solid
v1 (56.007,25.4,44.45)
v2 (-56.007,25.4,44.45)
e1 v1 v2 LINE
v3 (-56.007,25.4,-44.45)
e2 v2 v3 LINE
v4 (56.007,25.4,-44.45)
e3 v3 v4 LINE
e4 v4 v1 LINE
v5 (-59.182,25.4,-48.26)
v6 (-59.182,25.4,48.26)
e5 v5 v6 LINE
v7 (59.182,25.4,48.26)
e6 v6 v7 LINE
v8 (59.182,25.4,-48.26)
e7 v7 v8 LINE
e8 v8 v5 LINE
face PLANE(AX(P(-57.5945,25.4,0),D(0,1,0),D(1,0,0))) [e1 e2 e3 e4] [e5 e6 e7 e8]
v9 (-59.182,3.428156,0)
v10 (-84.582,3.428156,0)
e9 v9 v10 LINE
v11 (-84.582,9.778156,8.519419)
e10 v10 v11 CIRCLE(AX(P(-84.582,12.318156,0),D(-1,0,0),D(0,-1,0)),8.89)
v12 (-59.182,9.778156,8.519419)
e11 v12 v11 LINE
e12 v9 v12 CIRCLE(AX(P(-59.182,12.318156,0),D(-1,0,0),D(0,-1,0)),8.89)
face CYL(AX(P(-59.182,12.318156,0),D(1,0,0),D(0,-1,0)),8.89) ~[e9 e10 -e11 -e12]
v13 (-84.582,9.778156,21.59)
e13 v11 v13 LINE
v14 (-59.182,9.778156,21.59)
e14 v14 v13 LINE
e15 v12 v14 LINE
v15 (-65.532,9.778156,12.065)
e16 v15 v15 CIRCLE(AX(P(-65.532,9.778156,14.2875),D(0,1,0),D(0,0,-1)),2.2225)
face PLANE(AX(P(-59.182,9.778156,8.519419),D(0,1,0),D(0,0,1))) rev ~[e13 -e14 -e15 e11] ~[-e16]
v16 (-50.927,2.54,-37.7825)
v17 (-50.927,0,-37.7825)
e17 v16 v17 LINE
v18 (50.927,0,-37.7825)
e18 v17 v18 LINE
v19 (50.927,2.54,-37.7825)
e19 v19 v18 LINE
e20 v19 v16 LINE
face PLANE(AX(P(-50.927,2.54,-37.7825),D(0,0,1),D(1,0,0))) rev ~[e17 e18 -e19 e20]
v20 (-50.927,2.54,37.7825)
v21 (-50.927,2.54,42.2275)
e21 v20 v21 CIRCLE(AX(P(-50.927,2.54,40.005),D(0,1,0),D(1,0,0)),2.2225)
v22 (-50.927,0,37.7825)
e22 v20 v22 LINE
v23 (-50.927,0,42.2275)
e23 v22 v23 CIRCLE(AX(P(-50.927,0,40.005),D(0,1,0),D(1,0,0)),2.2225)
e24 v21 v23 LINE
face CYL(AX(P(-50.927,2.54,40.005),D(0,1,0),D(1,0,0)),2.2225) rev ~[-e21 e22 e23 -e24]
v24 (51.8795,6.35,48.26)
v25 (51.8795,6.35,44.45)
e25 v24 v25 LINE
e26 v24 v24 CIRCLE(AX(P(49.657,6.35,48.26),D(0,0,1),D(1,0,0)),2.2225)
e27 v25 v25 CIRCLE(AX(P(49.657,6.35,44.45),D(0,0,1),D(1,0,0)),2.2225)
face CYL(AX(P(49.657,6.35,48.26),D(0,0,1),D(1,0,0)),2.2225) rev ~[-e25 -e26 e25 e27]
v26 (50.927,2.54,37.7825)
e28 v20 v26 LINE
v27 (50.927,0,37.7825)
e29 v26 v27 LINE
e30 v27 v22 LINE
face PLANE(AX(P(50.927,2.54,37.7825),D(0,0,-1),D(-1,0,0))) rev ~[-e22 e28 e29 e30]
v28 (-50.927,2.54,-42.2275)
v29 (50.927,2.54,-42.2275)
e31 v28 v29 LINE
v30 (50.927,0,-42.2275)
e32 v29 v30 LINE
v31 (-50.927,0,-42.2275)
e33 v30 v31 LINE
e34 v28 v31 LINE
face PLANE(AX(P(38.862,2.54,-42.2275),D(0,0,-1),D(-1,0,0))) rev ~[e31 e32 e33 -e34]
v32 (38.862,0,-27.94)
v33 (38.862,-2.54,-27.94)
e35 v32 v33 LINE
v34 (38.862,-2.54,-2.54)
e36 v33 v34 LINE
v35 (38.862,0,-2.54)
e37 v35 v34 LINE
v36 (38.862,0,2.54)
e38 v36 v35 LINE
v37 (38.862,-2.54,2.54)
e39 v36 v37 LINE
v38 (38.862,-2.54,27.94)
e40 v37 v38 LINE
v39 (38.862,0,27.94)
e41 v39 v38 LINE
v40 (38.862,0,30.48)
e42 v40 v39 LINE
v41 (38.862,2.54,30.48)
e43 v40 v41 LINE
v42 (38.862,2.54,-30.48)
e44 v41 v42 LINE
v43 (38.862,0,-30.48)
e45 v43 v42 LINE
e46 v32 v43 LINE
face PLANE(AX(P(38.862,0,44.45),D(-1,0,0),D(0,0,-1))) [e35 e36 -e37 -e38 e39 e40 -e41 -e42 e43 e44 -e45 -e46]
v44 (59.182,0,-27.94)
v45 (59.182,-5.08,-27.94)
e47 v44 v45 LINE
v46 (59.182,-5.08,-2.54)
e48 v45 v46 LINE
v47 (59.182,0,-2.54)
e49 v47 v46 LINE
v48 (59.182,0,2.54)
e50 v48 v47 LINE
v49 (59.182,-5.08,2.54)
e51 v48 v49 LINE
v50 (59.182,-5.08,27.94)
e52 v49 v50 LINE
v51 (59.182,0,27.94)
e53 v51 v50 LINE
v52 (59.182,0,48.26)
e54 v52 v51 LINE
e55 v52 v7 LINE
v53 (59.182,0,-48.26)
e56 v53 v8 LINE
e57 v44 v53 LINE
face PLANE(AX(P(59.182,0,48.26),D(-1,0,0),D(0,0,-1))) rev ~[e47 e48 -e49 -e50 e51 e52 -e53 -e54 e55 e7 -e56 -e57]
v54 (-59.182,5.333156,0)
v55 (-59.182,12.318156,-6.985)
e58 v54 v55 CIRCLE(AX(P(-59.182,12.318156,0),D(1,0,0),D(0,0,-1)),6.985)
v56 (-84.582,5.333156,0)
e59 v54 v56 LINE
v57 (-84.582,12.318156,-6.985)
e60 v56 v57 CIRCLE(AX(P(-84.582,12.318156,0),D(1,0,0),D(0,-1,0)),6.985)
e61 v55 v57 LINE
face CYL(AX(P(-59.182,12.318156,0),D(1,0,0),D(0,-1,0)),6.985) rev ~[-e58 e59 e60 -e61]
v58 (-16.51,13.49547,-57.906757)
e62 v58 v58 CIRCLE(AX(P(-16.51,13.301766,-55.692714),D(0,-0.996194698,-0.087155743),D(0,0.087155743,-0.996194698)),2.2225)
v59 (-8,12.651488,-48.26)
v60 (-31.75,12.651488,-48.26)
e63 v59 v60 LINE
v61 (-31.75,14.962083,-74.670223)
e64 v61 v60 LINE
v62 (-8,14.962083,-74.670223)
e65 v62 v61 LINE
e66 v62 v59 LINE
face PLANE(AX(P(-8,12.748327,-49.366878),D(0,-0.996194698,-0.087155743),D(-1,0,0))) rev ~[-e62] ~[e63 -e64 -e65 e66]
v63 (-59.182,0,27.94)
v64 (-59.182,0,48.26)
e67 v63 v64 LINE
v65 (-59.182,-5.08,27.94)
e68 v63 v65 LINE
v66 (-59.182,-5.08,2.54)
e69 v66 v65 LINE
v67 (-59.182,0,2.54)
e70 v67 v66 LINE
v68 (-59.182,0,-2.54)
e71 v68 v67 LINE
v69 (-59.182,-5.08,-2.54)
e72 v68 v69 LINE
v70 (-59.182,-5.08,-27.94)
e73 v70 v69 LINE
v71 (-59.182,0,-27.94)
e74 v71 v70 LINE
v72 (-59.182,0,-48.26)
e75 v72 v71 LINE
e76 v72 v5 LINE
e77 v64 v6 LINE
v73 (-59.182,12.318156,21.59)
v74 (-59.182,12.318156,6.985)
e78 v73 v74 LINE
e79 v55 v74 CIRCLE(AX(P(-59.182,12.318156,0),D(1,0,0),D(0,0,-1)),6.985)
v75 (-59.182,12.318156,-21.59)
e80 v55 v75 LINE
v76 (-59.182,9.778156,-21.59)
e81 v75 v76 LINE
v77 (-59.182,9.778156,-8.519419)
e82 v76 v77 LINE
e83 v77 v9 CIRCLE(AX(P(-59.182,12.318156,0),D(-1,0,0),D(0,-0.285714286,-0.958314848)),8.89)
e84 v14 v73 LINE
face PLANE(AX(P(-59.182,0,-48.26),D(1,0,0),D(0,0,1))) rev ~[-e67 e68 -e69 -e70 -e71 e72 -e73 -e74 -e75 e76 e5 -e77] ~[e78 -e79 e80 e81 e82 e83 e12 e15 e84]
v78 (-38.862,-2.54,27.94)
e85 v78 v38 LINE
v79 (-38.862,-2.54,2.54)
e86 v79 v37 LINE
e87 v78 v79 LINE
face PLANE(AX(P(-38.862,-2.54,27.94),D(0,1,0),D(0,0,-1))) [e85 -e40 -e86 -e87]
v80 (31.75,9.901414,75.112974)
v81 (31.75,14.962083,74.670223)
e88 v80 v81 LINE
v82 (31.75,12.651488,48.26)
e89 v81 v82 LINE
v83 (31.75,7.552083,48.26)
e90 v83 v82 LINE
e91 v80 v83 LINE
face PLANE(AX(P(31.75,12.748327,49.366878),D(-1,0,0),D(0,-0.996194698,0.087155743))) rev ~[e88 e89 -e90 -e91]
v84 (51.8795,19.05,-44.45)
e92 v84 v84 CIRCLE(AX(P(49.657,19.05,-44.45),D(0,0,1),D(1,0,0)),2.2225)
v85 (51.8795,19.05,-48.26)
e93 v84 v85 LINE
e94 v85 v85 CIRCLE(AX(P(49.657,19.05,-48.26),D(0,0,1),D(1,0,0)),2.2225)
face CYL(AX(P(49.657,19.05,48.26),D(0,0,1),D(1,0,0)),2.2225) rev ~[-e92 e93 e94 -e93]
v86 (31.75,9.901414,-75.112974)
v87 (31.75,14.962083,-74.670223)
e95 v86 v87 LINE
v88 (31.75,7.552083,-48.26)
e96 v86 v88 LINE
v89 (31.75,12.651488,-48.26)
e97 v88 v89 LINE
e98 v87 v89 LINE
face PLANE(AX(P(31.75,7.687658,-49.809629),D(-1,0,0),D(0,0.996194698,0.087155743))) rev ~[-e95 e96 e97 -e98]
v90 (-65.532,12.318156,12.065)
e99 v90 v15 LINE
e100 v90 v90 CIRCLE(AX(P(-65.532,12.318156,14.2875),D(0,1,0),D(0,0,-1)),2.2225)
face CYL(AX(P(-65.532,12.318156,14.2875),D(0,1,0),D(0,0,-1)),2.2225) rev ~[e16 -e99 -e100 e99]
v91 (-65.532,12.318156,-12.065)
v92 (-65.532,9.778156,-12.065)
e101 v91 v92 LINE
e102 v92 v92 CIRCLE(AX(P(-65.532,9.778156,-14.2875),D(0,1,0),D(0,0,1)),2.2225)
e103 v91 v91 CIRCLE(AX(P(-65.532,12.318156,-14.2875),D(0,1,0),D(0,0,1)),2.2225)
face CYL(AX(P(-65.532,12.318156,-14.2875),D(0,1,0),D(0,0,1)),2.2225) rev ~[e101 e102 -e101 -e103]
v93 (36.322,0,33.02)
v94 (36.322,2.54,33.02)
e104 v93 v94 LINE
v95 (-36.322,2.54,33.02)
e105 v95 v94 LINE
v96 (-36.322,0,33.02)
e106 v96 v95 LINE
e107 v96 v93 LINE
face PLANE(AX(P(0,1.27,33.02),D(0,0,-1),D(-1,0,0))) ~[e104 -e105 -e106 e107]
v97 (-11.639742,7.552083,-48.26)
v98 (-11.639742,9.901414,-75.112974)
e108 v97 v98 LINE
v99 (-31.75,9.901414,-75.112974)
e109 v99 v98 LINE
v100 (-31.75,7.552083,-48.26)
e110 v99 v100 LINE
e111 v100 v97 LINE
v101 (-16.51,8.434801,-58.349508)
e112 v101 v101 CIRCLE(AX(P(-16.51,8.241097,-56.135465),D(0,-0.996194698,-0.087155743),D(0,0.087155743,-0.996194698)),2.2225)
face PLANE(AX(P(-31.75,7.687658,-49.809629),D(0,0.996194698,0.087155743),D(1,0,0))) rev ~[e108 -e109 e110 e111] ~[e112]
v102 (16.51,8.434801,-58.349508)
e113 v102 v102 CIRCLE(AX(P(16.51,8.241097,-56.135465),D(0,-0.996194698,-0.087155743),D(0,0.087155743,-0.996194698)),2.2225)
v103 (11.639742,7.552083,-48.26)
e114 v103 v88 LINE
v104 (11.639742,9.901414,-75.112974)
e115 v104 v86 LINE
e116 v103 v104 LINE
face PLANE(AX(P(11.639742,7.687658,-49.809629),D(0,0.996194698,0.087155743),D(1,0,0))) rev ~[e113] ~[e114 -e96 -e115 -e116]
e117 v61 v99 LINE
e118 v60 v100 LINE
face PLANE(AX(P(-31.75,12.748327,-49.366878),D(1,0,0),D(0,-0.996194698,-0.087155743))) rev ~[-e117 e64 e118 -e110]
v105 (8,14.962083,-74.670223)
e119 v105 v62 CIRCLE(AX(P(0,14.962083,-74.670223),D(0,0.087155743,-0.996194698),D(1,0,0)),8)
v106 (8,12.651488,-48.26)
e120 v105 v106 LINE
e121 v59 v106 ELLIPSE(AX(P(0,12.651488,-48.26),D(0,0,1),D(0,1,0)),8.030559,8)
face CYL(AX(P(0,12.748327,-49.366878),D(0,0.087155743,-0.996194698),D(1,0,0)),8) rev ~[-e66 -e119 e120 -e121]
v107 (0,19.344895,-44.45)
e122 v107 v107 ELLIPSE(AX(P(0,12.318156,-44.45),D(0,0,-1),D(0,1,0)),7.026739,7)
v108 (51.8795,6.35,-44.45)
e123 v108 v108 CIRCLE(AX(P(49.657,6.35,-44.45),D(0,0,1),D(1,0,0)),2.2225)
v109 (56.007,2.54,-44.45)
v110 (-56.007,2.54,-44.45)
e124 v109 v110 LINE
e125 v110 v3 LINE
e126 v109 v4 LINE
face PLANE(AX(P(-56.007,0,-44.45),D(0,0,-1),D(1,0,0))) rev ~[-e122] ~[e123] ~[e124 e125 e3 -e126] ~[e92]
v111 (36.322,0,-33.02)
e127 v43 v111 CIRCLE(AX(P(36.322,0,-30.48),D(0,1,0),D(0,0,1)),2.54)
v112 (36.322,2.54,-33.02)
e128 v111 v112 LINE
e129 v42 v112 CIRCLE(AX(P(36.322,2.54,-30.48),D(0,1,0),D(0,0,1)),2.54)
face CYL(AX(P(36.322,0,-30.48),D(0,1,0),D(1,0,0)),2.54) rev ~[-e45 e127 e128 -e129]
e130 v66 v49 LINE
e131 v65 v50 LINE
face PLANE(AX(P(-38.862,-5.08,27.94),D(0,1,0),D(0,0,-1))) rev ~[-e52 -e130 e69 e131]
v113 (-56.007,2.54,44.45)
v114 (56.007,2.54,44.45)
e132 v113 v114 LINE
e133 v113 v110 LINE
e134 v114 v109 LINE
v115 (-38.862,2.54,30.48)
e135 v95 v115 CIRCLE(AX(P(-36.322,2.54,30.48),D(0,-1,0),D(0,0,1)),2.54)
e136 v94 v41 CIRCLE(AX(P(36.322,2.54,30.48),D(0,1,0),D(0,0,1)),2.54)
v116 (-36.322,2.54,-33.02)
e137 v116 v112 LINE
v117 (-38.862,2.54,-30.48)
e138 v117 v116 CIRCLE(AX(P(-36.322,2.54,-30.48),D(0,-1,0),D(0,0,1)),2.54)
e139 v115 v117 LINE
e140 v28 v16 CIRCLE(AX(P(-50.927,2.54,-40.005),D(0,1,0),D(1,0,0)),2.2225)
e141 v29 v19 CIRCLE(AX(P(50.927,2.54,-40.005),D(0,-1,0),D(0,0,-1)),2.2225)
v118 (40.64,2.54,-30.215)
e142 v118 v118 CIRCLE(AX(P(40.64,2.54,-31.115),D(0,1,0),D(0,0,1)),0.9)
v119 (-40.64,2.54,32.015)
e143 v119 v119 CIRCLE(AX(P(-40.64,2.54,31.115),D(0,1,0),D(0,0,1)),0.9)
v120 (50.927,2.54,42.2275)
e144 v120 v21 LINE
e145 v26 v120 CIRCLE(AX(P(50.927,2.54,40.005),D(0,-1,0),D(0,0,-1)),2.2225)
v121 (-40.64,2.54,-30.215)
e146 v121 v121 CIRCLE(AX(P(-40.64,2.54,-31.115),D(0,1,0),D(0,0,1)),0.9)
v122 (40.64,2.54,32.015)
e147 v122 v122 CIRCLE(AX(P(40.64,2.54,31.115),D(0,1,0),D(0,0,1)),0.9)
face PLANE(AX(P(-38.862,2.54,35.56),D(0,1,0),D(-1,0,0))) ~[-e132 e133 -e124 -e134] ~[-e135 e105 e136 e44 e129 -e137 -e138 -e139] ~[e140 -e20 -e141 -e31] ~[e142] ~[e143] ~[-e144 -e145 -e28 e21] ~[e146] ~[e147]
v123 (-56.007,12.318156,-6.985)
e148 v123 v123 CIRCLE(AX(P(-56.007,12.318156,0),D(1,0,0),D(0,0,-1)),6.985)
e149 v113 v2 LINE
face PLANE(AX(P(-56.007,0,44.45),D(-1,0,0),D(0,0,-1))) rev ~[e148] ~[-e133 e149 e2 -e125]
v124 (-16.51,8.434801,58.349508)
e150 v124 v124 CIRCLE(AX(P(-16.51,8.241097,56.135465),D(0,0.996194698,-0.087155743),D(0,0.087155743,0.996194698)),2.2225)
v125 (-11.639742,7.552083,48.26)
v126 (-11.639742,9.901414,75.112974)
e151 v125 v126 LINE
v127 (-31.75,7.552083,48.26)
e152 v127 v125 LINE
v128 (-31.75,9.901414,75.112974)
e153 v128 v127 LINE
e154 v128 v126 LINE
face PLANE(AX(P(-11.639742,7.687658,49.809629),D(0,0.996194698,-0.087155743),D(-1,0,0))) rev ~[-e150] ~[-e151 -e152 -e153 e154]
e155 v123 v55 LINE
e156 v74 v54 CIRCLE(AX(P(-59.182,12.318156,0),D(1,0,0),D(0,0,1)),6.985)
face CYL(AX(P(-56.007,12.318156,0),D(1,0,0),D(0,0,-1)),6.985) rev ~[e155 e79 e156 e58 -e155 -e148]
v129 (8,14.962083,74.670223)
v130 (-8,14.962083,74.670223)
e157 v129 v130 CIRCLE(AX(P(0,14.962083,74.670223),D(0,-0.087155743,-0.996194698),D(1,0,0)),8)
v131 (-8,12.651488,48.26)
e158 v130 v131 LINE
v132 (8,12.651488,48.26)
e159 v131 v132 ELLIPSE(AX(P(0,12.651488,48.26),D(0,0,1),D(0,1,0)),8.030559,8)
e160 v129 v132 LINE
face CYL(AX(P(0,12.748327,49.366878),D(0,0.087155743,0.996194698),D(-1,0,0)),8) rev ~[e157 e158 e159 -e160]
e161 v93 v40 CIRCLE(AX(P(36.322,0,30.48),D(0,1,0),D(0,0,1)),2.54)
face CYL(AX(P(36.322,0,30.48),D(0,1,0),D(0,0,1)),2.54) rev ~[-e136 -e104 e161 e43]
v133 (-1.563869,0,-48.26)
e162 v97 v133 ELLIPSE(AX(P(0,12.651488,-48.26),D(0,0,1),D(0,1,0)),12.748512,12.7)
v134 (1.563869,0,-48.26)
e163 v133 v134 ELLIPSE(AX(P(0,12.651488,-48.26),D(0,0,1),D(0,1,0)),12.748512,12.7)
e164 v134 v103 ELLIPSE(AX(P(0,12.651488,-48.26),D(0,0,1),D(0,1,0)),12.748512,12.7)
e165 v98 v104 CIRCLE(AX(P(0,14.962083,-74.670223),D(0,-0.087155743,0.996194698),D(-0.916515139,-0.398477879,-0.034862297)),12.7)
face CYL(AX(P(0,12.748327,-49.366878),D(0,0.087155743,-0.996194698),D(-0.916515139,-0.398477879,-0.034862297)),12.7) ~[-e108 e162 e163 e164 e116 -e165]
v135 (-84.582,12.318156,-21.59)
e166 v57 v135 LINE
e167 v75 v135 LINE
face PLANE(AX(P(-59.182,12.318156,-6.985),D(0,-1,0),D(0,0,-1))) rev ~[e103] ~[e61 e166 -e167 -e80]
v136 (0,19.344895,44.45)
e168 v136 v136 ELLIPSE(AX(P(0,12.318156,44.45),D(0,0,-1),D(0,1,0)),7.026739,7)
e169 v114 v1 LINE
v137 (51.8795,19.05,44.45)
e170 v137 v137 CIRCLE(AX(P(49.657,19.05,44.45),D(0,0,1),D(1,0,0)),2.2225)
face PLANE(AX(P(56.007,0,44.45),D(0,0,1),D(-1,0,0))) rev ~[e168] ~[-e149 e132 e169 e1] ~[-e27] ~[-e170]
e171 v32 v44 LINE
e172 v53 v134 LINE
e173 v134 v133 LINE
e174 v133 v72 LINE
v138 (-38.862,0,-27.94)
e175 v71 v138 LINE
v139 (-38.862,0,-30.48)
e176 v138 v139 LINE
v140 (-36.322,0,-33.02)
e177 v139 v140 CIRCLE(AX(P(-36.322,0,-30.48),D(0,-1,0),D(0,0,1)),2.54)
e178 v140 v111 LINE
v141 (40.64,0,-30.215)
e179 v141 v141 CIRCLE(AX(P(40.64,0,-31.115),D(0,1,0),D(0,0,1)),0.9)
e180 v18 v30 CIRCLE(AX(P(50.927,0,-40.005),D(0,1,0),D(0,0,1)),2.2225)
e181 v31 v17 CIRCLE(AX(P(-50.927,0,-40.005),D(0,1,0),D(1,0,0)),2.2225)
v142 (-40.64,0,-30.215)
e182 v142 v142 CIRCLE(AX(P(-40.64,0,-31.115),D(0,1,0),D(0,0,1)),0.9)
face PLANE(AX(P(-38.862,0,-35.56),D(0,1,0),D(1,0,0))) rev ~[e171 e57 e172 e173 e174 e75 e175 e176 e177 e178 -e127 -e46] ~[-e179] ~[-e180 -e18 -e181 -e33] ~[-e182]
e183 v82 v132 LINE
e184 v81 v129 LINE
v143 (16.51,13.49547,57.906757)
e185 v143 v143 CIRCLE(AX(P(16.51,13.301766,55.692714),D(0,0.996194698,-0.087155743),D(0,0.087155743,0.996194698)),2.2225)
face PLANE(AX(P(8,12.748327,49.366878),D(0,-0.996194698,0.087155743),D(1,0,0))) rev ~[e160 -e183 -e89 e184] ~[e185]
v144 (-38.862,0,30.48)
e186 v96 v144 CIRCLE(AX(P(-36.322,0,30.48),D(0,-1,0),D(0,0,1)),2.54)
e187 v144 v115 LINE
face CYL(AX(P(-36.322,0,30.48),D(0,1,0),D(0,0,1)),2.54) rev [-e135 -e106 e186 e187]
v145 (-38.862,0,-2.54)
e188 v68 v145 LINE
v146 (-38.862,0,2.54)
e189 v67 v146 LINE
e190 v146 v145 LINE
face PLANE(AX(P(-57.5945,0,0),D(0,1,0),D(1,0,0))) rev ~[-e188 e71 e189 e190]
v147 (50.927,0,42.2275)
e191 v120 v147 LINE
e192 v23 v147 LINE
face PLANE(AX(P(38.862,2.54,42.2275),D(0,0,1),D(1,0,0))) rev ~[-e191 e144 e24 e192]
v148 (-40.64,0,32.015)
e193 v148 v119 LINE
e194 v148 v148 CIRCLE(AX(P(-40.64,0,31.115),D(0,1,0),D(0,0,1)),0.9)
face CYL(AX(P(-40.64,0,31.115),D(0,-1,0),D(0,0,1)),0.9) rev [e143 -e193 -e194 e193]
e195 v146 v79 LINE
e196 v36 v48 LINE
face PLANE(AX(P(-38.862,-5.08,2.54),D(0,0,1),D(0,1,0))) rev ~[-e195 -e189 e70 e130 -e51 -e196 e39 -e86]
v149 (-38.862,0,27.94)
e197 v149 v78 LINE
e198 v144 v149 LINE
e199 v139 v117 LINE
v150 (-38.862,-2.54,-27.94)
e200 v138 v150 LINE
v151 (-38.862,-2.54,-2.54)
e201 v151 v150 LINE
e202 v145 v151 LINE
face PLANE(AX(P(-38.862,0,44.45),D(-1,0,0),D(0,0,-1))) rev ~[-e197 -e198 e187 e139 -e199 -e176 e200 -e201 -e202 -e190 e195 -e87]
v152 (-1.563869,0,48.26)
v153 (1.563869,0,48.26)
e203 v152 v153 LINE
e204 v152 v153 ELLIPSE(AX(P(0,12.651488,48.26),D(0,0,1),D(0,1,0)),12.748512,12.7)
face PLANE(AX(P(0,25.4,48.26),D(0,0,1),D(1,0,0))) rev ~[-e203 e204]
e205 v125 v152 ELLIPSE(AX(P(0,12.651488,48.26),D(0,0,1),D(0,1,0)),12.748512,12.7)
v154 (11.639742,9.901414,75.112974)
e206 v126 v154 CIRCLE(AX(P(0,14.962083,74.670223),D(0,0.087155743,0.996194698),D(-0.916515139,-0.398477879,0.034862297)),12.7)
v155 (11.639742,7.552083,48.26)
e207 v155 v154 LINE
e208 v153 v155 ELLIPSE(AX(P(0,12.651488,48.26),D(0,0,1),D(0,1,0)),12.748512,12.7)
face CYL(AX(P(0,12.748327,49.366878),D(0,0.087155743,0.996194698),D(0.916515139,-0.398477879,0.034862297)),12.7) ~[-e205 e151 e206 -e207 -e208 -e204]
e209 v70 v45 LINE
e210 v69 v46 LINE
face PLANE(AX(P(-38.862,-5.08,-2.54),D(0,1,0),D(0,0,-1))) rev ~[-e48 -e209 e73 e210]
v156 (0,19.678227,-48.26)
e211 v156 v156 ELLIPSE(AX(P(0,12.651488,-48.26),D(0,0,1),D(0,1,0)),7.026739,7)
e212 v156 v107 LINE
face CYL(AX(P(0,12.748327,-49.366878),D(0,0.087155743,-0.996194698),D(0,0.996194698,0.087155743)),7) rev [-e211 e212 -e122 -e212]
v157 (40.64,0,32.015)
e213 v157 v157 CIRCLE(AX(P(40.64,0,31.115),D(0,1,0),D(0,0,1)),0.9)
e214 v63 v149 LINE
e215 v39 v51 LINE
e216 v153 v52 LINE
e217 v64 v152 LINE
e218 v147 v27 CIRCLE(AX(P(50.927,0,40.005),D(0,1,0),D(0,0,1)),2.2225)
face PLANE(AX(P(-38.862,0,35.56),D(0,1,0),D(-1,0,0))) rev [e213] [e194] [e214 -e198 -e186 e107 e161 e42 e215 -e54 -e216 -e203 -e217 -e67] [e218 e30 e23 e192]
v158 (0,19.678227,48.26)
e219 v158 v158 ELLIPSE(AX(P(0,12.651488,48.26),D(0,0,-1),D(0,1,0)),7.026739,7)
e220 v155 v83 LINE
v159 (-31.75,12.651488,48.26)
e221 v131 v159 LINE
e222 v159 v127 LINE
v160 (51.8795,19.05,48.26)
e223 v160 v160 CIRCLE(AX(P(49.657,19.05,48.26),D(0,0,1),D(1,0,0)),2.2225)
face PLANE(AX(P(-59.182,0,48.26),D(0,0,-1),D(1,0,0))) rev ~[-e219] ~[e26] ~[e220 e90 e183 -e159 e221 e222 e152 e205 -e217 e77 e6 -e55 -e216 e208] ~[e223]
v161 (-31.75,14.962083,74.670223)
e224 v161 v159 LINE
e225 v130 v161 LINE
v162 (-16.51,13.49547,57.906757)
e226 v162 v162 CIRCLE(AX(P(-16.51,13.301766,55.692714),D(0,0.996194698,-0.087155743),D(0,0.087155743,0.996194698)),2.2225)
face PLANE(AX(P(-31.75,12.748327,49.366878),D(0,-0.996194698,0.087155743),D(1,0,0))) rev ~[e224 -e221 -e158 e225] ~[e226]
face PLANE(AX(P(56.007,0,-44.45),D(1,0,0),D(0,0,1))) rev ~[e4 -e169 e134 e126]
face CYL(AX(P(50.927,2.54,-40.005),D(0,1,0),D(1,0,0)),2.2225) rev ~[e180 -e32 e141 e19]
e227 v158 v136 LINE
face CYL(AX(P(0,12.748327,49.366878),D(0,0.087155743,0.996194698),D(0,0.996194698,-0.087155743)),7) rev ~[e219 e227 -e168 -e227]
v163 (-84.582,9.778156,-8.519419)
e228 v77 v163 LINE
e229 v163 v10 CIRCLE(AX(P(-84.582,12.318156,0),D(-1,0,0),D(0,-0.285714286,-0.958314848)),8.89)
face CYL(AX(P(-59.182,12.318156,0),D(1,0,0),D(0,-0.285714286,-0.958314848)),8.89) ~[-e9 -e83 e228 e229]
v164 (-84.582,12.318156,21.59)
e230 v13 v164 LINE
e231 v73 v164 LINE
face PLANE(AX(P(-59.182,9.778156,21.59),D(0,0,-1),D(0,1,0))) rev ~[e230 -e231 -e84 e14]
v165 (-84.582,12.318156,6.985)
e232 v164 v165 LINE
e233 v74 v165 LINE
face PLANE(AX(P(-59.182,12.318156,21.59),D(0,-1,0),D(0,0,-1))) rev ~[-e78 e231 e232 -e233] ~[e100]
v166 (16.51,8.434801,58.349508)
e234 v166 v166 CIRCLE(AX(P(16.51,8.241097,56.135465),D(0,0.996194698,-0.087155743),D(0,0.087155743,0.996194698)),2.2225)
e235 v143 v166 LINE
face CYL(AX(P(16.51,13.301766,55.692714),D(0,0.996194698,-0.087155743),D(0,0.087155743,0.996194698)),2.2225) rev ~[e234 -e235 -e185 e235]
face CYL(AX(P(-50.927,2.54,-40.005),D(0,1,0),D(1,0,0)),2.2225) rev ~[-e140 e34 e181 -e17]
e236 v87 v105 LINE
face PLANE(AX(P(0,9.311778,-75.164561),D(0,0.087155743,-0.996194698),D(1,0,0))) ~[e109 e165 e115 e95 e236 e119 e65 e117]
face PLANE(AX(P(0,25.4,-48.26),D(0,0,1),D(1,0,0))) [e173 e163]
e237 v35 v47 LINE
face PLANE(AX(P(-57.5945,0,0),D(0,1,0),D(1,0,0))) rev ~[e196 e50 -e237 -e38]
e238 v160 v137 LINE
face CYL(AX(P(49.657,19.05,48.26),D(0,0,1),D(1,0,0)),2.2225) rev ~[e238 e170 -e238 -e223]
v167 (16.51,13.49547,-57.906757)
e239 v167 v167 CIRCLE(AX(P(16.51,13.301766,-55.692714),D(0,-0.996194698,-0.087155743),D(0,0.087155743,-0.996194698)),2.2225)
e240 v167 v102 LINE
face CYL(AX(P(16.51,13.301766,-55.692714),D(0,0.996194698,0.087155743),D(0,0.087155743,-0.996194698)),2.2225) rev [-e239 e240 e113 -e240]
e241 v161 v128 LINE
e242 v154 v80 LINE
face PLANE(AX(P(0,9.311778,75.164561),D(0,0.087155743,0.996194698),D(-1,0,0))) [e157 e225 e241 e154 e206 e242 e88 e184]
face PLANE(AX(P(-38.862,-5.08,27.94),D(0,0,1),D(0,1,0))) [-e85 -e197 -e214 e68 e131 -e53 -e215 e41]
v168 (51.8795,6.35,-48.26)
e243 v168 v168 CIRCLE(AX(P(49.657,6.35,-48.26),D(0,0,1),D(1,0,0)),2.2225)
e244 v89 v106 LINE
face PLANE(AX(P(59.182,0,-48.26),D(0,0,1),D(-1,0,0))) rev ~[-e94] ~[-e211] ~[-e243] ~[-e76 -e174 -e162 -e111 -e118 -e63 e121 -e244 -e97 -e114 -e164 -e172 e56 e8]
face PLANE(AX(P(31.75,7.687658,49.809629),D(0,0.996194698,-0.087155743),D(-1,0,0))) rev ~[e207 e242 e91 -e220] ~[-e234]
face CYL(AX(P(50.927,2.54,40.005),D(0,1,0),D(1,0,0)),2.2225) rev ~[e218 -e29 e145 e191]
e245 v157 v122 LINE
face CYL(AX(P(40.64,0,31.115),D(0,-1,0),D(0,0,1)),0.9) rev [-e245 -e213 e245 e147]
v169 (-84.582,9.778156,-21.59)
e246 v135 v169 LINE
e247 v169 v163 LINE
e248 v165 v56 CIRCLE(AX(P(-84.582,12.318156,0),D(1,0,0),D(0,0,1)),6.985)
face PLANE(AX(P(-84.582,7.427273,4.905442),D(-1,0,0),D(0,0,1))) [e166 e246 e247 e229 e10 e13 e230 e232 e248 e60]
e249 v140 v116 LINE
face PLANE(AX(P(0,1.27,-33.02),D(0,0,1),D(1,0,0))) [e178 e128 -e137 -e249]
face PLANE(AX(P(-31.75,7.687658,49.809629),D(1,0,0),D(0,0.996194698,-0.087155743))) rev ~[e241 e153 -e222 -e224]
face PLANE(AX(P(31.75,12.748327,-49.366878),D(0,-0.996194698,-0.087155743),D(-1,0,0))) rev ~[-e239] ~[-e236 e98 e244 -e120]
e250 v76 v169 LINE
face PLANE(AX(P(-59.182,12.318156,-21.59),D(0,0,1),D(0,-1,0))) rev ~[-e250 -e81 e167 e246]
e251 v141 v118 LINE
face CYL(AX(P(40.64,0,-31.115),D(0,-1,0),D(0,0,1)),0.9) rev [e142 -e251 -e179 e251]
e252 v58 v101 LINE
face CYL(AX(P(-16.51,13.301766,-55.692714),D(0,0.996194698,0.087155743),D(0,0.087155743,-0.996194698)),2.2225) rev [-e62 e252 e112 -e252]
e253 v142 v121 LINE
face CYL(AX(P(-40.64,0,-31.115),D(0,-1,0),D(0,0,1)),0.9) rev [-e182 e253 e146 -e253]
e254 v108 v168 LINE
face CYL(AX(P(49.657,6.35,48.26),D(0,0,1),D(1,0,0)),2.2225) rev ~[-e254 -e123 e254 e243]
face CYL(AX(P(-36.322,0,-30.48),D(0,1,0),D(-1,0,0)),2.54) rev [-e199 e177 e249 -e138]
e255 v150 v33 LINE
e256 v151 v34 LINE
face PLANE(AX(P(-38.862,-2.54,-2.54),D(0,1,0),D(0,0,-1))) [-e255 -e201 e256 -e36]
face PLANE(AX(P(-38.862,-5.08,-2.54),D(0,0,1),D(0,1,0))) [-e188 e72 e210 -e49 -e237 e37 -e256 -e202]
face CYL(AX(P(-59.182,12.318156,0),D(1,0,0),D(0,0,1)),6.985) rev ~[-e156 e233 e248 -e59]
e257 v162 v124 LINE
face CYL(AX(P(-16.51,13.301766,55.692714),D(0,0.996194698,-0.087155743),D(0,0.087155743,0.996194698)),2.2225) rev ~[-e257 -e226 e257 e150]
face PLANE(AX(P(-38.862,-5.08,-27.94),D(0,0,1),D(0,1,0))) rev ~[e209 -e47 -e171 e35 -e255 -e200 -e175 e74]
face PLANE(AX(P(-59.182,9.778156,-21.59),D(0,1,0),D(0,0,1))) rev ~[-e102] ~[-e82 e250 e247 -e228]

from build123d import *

# Parameters (mm, degrees)
SKETCH1_W            = 7.62
SKETCH1_H            = 88.9
SKETCH1_R            = 0.9
SKETCH1_W_2          = 9.525
BOSS_EXTRUDE1_DEPTH  = 2.54
BOSS_EXTRUDE2_DEPTH  = 25.4
BOSS_EXTRUDE6_DEPTH  = 25.4
BOSS_EXTRUDE7_REACH  = 142.673
SKETCH9_R            = 2.2225
CUT_EXTRUDE2_DEPTH   = 5.08
CUT_EXTRUDE5_REACH   = 142.673
SKETCH15_R           = 7
BOSS_EXTRUDE8_REACH  = 142.673
CUT_EXTRUDE8_REACH   = 142.199
SKETCH19_R           = 6.985
BOSS_EXTRUDE9_DEPTH  = 25.4
CUT_EXTRUDE9_REACH   = 116.313
SKETCH22_R           = 2.2225
SKETCH27_W           = 20.32
SKETCH27_H           = 25.4
BOSS_EXTRUDE12_DEPTH = 5.08
BOSS_EXTRUDE13_REACH = 128.491
SKETCH28_W           = 25.4
SKETCH28_H           = 2.54
SKETCH30_W           = 77.724
SKETCH30_H           = 8.89
BOSS_EXTRUDE14_DEPTH = 2.54
CUT_EXTRUDE10_REACH  = 117.84
SKETCH29_R           = 2.2225
SKETCH32_R           = 2.2225
CUT_EXTRUDE11_DEPTH  = 153.264497495
SKETCH33_W           = 77.724
SKETCH33_H           = 2.54
BOSS_EXTRUDE17_DEPTH = 2.54
FILLET2_R            = 2.54


with BuildPart() as part:
    # Sketch1 → Boss-Extrude1 (new body)
    # profile 1 of 4: a face of its own
    with BuildSketch(Plane(origin=(0, 0, 0), x_dir=(1, 0, 0), z_dir=(0, 1, 0))):
        with Locations((-42.672, 0)):
            Rectangle(SKETCH1_W, SKETCH1_H)
        with Locations(Location((-40.64, -31.115, 0), (0, 0, 270))):
            Circle(SKETCH1_R, mode=Mode.SUBTRACT)
        with Locations(Location((-40.64, 31.115, 0), (0, 0, 270))):
            Circle(SKETCH1_R, mode=Mode.SUBTRACT)
    # profile 2 of 4: a face of its own
    with BuildSketch(Plane(origin=(0, 0, 0), x_dir=(1, 0, 0), z_dir=(0, 1, 0))):
        with Locations((42.672, 0)):
            Rectangle(SKETCH1_W, SKETCH1_H)
        with Locations(Location((40.64, -31.115, 0), (0, 0, 270))):
            Circle(SKETCH1_R, mode=Mode.SUBTRACT)
        with Locations(Location((40.64, 31.115, 0), (0, 0, 270))):
            Circle(SKETCH1_R, mode=Mode.SUBTRACT)
    # profile 3 of 4: a face of its own
    with BuildSketch(Plane(origin=(0, 0, 0), x_dir=(1, 0, 0), z_dir=(0, 1, 0))):
        with Locations((-51.2445, 0)):
            Rectangle(SKETCH1_W_2, SKETCH1_H)
    # profile 4 of 4: a face of its own
    with BuildSketch(Plane(origin=(0, 0, 0), x_dir=(1, 0, 0), z_dir=(0, 1, 0))):
        with Locations((51.2445, 0)):
            Rectangle(SKETCH1_W_2, SKETCH1_H)
    extrude(amount=BOSS_EXTRUDE1_DEPTH)

    # Sketch1<3> → Boss-Extrude2 (add)
    with BuildSketch(Plane(origin=(0, 0, 0), x_dir=(1, 0, 0), z_dir=(0, 1, 0))):
        Polygon((-56.007, -48.26), (-56.007, -44.45), (-56.007, 44.45), (-56.007, 48.26), (-59.182, 48.26), (-59.182, -48.26), align=None)
        Polygon((56.007, -44.45), (56.007, -48.26), (59.182, -48.26), (59.182, 48.26), (56.007, 48.26), (56.007, 44.45), align=None)
        Polygon((-38.862, -44.45), (-46.482, -44.45), (-56.007, -44.45), (-56.007, -48.26), (56.007, -48.26), (56.007, -44.45), (46.482, -44.45), (38.862, -44.45), align=None)
        Polygon((-56.007, 44.45), (-46.482, 44.45), (-38.862, 44.45), (38.862, 44.45), (46.482, 44.45), (56.007, 44.45), (56.007, 48.26), (-56.007, 48.26), align=None)
    extrude(amount=BOSS_EXTRUDE2_DEPTH)



with BuildPart() as body_2:
    # Sketch8 → Boss-Extrude6 (new body)
    with BuildSketch(Plane(origin=(0, 4.383072064, 50.098742937), x_dir=(-1, 0, 0), z_dir=(0, 0.08715574274765835, 0.9961946980917455))):
        with BuildLine():
            ThreePointArc((-11.639742265, -3.317209187), (-12.432110174, -5.802476712), (-12.7, -8.397209187))
            Line((-12.7, -8.397209187), (-8, -8.397209187))
            ThreePointArc((-8, -8.397209187), (0, -0.397209187), (8, -8.397209187))
            Line((8, -8.397209187), (12.7, -8.397209187))
            ThreePointArc((12.7, -8.397209187), (12.432110174, -5.802476712), (11.639742265, -3.317209187))
            ThreePointArc((11.639742265, -3.317209187), (0, 4.302790813), (-11.639742265, -3.317209187))
        make_face()
        with BuildLine():
            Line((-31.75, -8.397209187), (-12.7, -8.397209187))
            ThreePointArc((-12.7, -8.397209187), (-12.432110174, -5.802476712), (-11.639742265, -3.317209187))
            Line((-11.639742265, -3.317209187), (-31.75, -3.317209187))
            Line((-31.75, -3.317209187), (-31.75, -8.397209187))
        make_face()
        with BuildLine():
            ThreePointArc((11.639742265, -3.317209187), (12.432110174, -5.802476712), (12.7, -8.397209187))
            Line((12.7, -8.397209187), (31.75, -8.397209187))
            Line((31.75, -8.397209187), (31.75, -3.317209187))
            Line((31.75, -3.317209187), (11.639742265, -3.317209187))
        make_face()
    extrude(amount=BOSS_EXTRUDE6_DEPTH)


with BuildPart() as body_3:
    # Mirror3: mirrored copy
    add(body_2.part.mirror(Plane.XY))


with BuildPart() as part_1:
    add(part.part)

    add(body_2.part)  # Boss-Extrude7 merges body 2
    # Boss-Extrude7: up to this plane
    boss_extrude7_end = Plane(origin=(0, 25.4, 48.26), z_dir=(0, 0, 1))
    # Sketch10 → Boss-Extrude7 (add, up to the surface)
    with BuildSketch(Plane(origin=(0, 4.383072064, 50.098742937), x_dir=(-1, 0, 0), z_dir=(0, -0.08715574274765835, -0.9961946980917457)), mode=Mode.PRIVATE) as boss_extrude7_sk1:
        with BuildLine():
            Line((11.639742265, 3.317209187), (31.75, 3.317209187))
            Line((31.75, 3.317209187), (31.75, 8.397209187))
            Line((31.75, 8.397209187), (8, 8.397209187))
            ThreePointArc((8, 8.397209187), (0, 0.397209187), (-8, 8.397209187))
            Line((-8, 8.397209187), (-31.75, 8.397209187))
            Line((-31.75, 8.397209187), (-31.75, 3.317209187))
            Line((-31.75, 3.317209187), (-11.639742265, 3.317209187))
            ThreePointArc((-11.639742265, 3.317209187), (0, -4.302790813), (11.639742265, 3.317209187))
        make_face()
    boss_extrude7_tool1 = split(extrude(boss_extrude7_sk1.sketch, amount=BOSS_EXTRUDE7_REACH, mode=Mode.PRIVATE), bisect_by=boss_extrude7_end, keep=Keep.BOTH, mode=Mode.PRIVATE)
    add(boss_extrude7_tool1.solids().sort_by_distance((0, 4.133658, 50.120564))[0])

    # Sketch9 → Cut-Extrude2 (cut)
    with BuildSketch(Plane(origin=(0, 8.36525527, -0.731865004), x_dir=(1, 0, 0), z_dir=(0, 0.9961946980917457, -0.08715574274765837))):
        with Locations(Location((16.51, -56.640111996, 0), (0, 0, 270))):
            Circle(SKETCH9_R)
        with Locations(Location((-16.51, -56.640111996, 0), (0, 0, 270))):
            Circle(SKETCH9_R)
    cut_extrude2 = extrude(amount=-CUT_EXTRUDE2_DEPTH, mode=Mode.SUBTRACT)

    # Cut-Extrude5: up to this plane
    cut_extrude5_end = Plane(origin=(0, 25.4, 44.45), z_dir=(0, 0, -1))
    # Sketch15 → Cut-Extrude5 (cut, up to the surface)
    with BuildSketch(Plane(origin=(0, 4.383072064, 50.098742937), x_dir=(-1, 0, 0), z_dir=(0, 0.08715574274765835, 0.9961946980917455)), mode=Mode.PRIVATE) as cut_extrude5_sk1:
        with Locations(Location((0, -8.397209187, 0), (0, 0, 270))):
            Circle(SKETCH15_R)
    cut_extrude5_tool1 = split(extrude(cut_extrude5_sk1.sketch, amount=-CUT_EXTRUDE5_REACH, mode=Mode.PRIVATE), bisect_by=cut_extrude5_end, keep=Keep.BOTH, mode=Mode.PRIVATE)
    cut_extrude5 = cut_extrude5_tool1.solids().sort_by_distance((0, 12.748327, 49.366878))[0]
    add(cut_extrude5, mode=Mode.SUBTRACT)


    add(body_3.part)  # Boss-Extrude8 merges body 3
    # Boss-Extrude8: up to this plane
    boss_extrude8_end = Plane(origin=(0, 25.4, -48.26), z_dir=(0, 0, 1))
    # Sketch16 → Boss-Extrude8 (add, up to the surface)
    with BuildSketch(Plane(origin=(0, 4.383072064, -50.098742937), x_dir=(1, 0, 0), z_dir=(0, -0.08715574274765835, 0.9961946980917457)), mode=Mode.PRIVATE) as boss_extrude8_sk1:
        with BuildLine():
            Line((11.639742265, 3.317209187), (31.75, 3.317209187))
            Line((31.75, 3.317209187), (31.75, 8.397209187))
            Line((31.75, 8.397209187), (8, 8.397209187))
            ThreePointArc((8, 8.397209187), (0, 0.397209187), (-8, 8.397209187))
            Line((-8, 8.397209187), (-31.75, 8.397209187))
            Line((-31.75, 8.397209187), (-31.75, 3.317209187))
            Line((-31.75, 3.317209187), (-11.639742265, 3.317209187))
            ThreePointArc((-11.639742265, 3.317209187), (0, -4.302790813), (11.639742265, 3.317209187))
        make_face()
    boss_extrude8_tool1 = split(extrude(boss_extrude8_sk1.sketch, amount=BOSS_EXTRUDE8_REACH, mode=Mode.PRIVATE), bisect_by=boss_extrude8_end, keep=Keep.BOTH, mode=Mode.PRIVATE)
    add(boss_extrude8_tool1.solids().sort_by_distance((0, 4.133658, -50.120564))[0])

    # Mirror6: Cut-Extrude2, Cut-Extrude5 across plane
    add(cut_extrude2.mirror(Plane.XY), mode=Mode.SUBTRACT)
    add(cut_extrude5.mirror(Plane.XY), mode=Mode.SUBTRACT)

    # Sketch19 → Cut-Extrude8 (cut, up to next)
    with BuildSketch(Plane(origin=(-56.007, 0, 0), x_dir=(0, 0, -1), z_dir=(1, 0, 0)), mode=Mode.PRIVATE) as cut_extrude8_sk1:
        with Locations((0, 12.318156255)):
            Circle(SKETCH19_R)
    cut_extrude8_tool1 = extrude(cut_extrude8_sk1.sketch, amount=-CUT_EXTRUDE8_REACH, mode=Mode.PRIVATE) & part_1.part
    add(cut_extrude8_tool1.solids().sort_by_distance((-56.007, 12.318156, 0))[0], mode=Mode.SUBTRACT)

    # Sketch20 → Boss-Extrude9 (add)
    with BuildSketch(Plane.ZY.offset(59.182)):
        with BuildLine():
            ThreePointArc((8.519418994, 9.778156255), (8.79686691, 11.03471067), (8.89, 12.318156255))
            Line((8.89, 12.318156255), (6.985, 12.318156255))
            ThreePointArc((6.985, 12.318156255), (4.939140867, 7.379015389), (0, 5.333156255))
            Line((0, 5.333156255), (0, 3.428156255))
            ThreePointArc((0, 3.428156255), (5.312791168, 5.190298933), (8.519418994, 9.778156255))
        make_face()
        with BuildLine():
            Line((-6.985, 12.318156255), (-8.89, 12.318156255))
            ThreePointArc((-8.89, 12.318156255), (-8.79686691, 11.03471067), (-8.519418994, 9.778156255))
            ThreePointArc((-8.519418994, 9.778156255), (-5.312791168, 5.190298933), (0, 3.428156255))
            Line((0, 3.428156255), (0, 5.333156255))
            ThreePointArc((0, 5.333156255), (-4.939140867, 7.379015389), (-6.985, 12.318156255))
        make_face()
        with BuildLine():
            ThreePointArc((-8.519418994, 9.778156255), (-8.79686691, 11.03471067), (-8.89, 12.318156255))
            Line((-8.89, 12.318156255), (-21.59, 12.318156255))
            Line((-21.59, 12.318156255), (-21.59, 9.778156255))
            Line((-21.59, 9.778156255), (-8.519418994, 9.778156255))
        make_face()
        with BuildLine():
            Line((21.59, 12.318156255), (8.89, 12.318156255))
            ThreePointArc((8.89, 12.318156255), (8.79686691, 11.03471067), (8.519418994, 9.778156255))
            Line((8.519418994, 9.778156255), (21.59, 9.778156255))
            Line((21.59, 9.778156255), (21.59, 12.318156255))
        make_face()
    extrude(amount=BOSS_EXTRUDE9_DEPTH)

    # Sketch22 → Cut-Extrude9 (cut, up to next)
    with BuildSketch(Plane(origin=(0, 12.318156255, 0), x_dir=(1, 0, 0), z_dir=(0, 1, 0)), mode=Mode.PRIVATE) as cut_extrude9_sk1:
        with Locations(Location((-65.532, 14.2875, 0), (0, 0, 270))):
            Circle(SKETCH22_R)
    cut_extrude9_tool1 = extrude(cut_extrude9_sk1.sketch, amount=-CUT_EXTRUDE9_REACH, mode=Mode.PRIVATE) & part_1.part
    # Sketch22 → Cut-Extrude9 (cut, up to next)
    with BuildSketch(Plane(origin=(0, 12.318156255, 0), x_dir=(1, 0, 0), z_dir=(0, 1, 0)), mode=Mode.PRIVATE) as cut_extrude9_sk2:
        with Locations(Location((-65.532, -14.2875, 0), (0, 0, 90))):
            Circle(SKETCH22_R)
    cut_extrude9_tool2 = extrude(cut_extrude9_sk2.sketch, amount=-CUT_EXTRUDE9_REACH, mode=Mode.PRIVATE) & part_1.part
    add(cut_extrude9_tool1.solids().sort_by_distance((-65.532, 12.318156, -14.2875))[0], mode=Mode.SUBTRACT)
    add(cut_extrude9_tool2.solids().sort_by_distance((-65.532, 12.318156, 14.2875))[0], mode=Mode.SUBTRACT)

    # Sketch27 → Boss-Extrude12 (add)
    with BuildSketch(Plane.XZ):
        with Locations((-49.022, 15.24)):
            Rectangle(SKETCH27_W, SKETCH27_H)
        with Locations((-49.022, -15.24)):
            Rectangle(SKETCH27_W, SKETCH27_H)
        with Locations((49.022, -15.24)):
            Rectangle(SKETCH27_W, SKETCH27_H)
        with Locations((49.022, 15.24)):
            Rectangle(SKETCH27_W, SKETCH27_H)
    extrude(amount=BOSS_EXTRUDE12_DEPTH)

    # Sketch28 → Boss-Extrude13 (add, up to next)
    with BuildSketch(Plane(origin=(-38.862, 0, 0), x_dir=(0, 0, -1), z_dir=(1, 0, 0)), mode=Mode.PRIVATE) as boss_extrude13_sk1:
        with Locations((15.24, -3.81)):
            Rectangle(SKETCH28_W, SKETCH28_H)
    boss_extrude13_tool1 = extrude(boss_extrude13_sk1.sketch, amount=BOSS_EXTRUDE13_REACH, mode=Mode.PRIVATE) - part_1.part
    # Sketch28 → Boss-Extrude13 (add, up to next)
    with BuildSketch(Plane(origin=(-38.862, 0, 0), x_dir=(0, 0, -1), z_dir=(1, 0, 0)), mode=Mode.PRIVATE) as boss_extrude13_sk2:
        with Locations((-15.24, -3.81)):
            Rectangle(SKETCH28_W, SKETCH28_H)
    boss_extrude13_tool2 = extrude(boss_extrude13_sk2.sketch, amount=BOSS_EXTRUDE13_REACH, mode=Mode.PRIVATE) - part_1.part
    add(boss_extrude13_tool1.solids().sort_by_distance((-38.862, -3.81, -15.24))[0])
    add(boss_extrude13_tool2.solids().sort_by_distance((-38.862, -3.81, 15.24))[0])

    # Sketch30 → Boss-Extrude14 (add)
    with BuildSketch(Plane(origin=(0, 2.54, 0), x_dir=(1, 0, 0), z_dir=(0, 1, 0))):
        with Locations((0, 40.005)):
            Rectangle(SKETCH30_W, SKETCH30_H)
        with Locations((0, -40.005)):
            Rectangle(SKETCH30_W, SKETCH30_H)
    extrude(amount=-BOSS_EXTRUDE14_DEPTH)

    # Sketch29 → Cut-Extrude10 (cut, up to next)
    with BuildSketch(Plane(origin=(0, 2.54, 0), x_dir=(1, 0, 0), z_dir=(0, 1, 0)), mode=Mode.PRIVATE) as cut_extrude10_sk1:
        with BuildLine():
            Line((38.862, 42.2275), (-50.927, 42.2275))
            ThreePointArc((-50.927, 42.2275), (-49.355455179, 41.576544821), (-48.7045, 40.005))
            ThreePointArc((-48.7045, 40.005), (-49.355455179, 38.433455179), (-50.927, 37.7825))
            Line((-50.927, 37.7825), (38.862, 37.7825))
            Line((38.862, 37.7825), (38.862, 42.2275))
        make_face()
    cut_extrude10_tool1 = extrude(cut_extrude10_sk1.sketch, amount=-CUT_EXTRUDE10_REACH, mode=Mode.PRIVATE) & part_1.part
    # Sketch29 → Cut-Extrude10 (cut, up to next)
    with BuildSketch(Plane(origin=(0, 2.54, 0), x_dir=(1, 0, 0), z_dir=(0, 1, 0)), mode=Mode.PRIVATE) as cut_extrude10_sk2:
        with Locations((-50.927, 40.005)):
            Circle(SKETCH29_R)
    cut_extrude10_tool2 = extrude(cut_extrude10_sk2.sketch, amount=-CUT_EXTRUDE10_REACH, mode=Mode.PRIVATE) & part_1.part
    # Sketch29 → Cut-Extrude10 (cut, up to next)
    with BuildSketch(Plane(origin=(0, 2.54, 0), x_dir=(1, 0, 0), z_dir=(0, 1, 0)), mode=Mode.PRIVATE) as cut_extrude10_sk3:
        with BuildLine():
            Line((50.927, 42.2275), (38.862, 42.2275))
            Line((38.862, 42.2275), (38.862, 37.7825))
            Line((38.862, 37.7825), (50.927, 37.7825))
            ThreePointArc((50.927, 37.7825), (48.7045, 40.005), (50.927, 42.2275))
        make_face()
    cut_extrude10_tool3 = extrude(cut_extrude10_sk3.sketch, amount=-CUT_EXTRUDE10_REACH, mode=Mode.PRIVATE) & part_1.part
    # Sketch29 → Cut-Extrude10 (cut, up to next)
    with BuildSketch(Plane(origin=(0, 2.54, 0), x_dir=(1, 0, 0), z_dir=(0, 1, 0)), mode=Mode.PRIVATE) as cut_extrude10_sk4:
        with Locations((50.927, 40.005)):
            Circle(SKETCH29_R)
    cut_extrude10_tool4 = extrude(cut_extrude10_sk4.sketch, amount=-CUT_EXTRUDE10_REACH, mode=Mode.PRIVATE) & part_1.part
    # Sketch29 → Cut-Extrude10 (cut, up to next)
    with BuildSketch(Plane(origin=(0, 2.54, 0), x_dir=(1, 0, 0), z_dir=(0, 1, 0)), mode=Mode.PRIVATE) as cut_extrude10_sk5:
        with BuildLine():
            Line((38.862, -42.2275), (38.862, -37.7825))
            Line((38.862, -37.7825), (-50.927, -37.7825))
            ThreePointArc((-50.927, -37.7825), (-49.355455179, -38.433455179), (-48.7045, -40.005))
            ThreePointArc((-48.7045, -40.005), (-49.355455179, -41.576544821), (-50.927, -42.2275))
            Line((-50.927, -42.2275), (38.862, -42.2275))
        make_face()
    cut_extrude10_tool5 = extrude(cut_extrude10_sk5.sketch, amount=-CUT_EXTRUDE10_REACH, mode=Mode.PRIVATE) & part_1.part
    # Sketch29 → Cut-Extrude10 (cut, up to next)
    with BuildSketch(Plane(origin=(0, 2.54, 0), x_dir=(1, 0, 0), z_dir=(0, 1, 0)), mode=Mode.PRIVATE) as cut_extrude10_sk6:
        with BuildLine():
            Line((50.927, -37.7825), (38.862, -37.7825))
            Line((38.862, -37.7825), (38.862, -42.2275))
            Line((38.862, -42.2275), (50.927, -42.2275))
            ThreePointArc((50.927, -42.2275), (48.7045, -40.005), (50.927, -37.7825))
        make_face()
    cut_extrude10_tool6 = extrude(cut_extrude10_sk6.sketch, amount=-CUT_EXTRUDE10_REACH, mode=Mode.PRIVATE) & part_1.part
    # Sketch29 → Cut-Extrude10 (cut, up to next)
    with BuildSketch(Plane(origin=(0, 2.54, 0), x_dir=(1, 0, 0), z_dir=(0, 1, 0)), mode=Mode.PRIVATE) as cut_extrude10_sk7:
        with Locations((50.927, -40.005)):
            Circle(SKETCH29_R)
    cut_extrude10_tool7 = extrude(cut_extrude10_sk7.sketch, amount=-CUT_EXTRUDE10_REACH, mode=Mode.PRIVATE) & part_1.part
    # Sketch29 → Cut-Extrude10 (cut, up to next)
    with BuildSketch(Plane(origin=(0, 2.54, 0), x_dir=(1, 0, 0), z_dir=(0, 1, 0)), mode=Mode.PRIVATE) as cut_extrude10_sk8:
        with Locations((-50.927, -40.005)):
            Circle(SKETCH29_R)
    cut_extrude10_tool8 = extrude(cut_extrude10_sk8.sketch, amount=-CUT_EXTRUDE10_REACH, mode=Mode.PRIVATE) & part_1.part
    add(cut_extrude10_tool1.solids().sort_by_distance((-5.161124, 2.54, -40.005))[0], mode=Mode.SUBTRACT)
    add(cut_extrude10_tool2.solids().sort_by_distance((-50.927, 2.54, -40.005))[0], mode=Mode.SUBTRACT)
    add(cut_extrude10_tool3.solids().sort_by_distance((44.033649, 2.54, -40.005))[0], mode=Mode.SUBTRACT)
    add(cut_extrude10_tool4.solids().sort_by_distance((50.927, 2.54, -40.005))[0], mode=Mode.SUBTRACT)
    add(cut_extrude10_tool5.solids().sort_by_distance((-5.161124, 2.54, 40.005))[0], mode=Mode.SUBTRACT)
    add(cut_extrude10_tool6.solids().sort_by_distance((44.033649, 2.54, 40.005))[0], mode=Mode.SUBTRACT)
    add(cut_extrude10_tool7.solids().sort_by_distance((50.927, 2.54, 40.005))[0], mode=Mode.SUBTRACT)
    add(cut_extrude10_tool8.solids().sort_by_distance((-50.927, 2.54, 40.005))[0], mode=Mode.SUBTRACT)

    # Sketch32 → Cut-Extrude11 (cut, through all)
    with BuildSketch(Plane.XY.offset(48.26)):
        with Locations((49.657, 19.05)):
            Circle(SKETCH32_R)
        with Locations((49.657, 6.35)):
            Circle(SKETCH32_R)
    extrude(amount=-CUT_EXTRUDE11_DEPTH, mode=Mode.SUBTRACT)

    # Sketch33 → Boss-Extrude17 (add)
    with BuildSketch(Plane.XY.offset(-35.56)):
        with Locations((0, 1.27)):
            Rectangle(SKETCH33_W, SKETCH33_H)
    boss_extrude17 = extrude(amount=BOSS_EXTRUDE17_DEPTH)

    # Mirror8: Boss-Extrude17 across plane
    add(boss_extrude17.mirror(Plane.XY))

    # Fillet2
    fillet2_edges = [part_1.edges().sort_by_distance(p)[0] for p in [
        (-38.862, 1.27, -33.02),
        (38.862, 1.27, -33.02),
        (-38.862, 1.27, 33.02),
        (38.862, 1.27, 33.02),
    ]]
    fillet(fillet2_edges, radius=FILLET2_R)


solid = part_1.part
